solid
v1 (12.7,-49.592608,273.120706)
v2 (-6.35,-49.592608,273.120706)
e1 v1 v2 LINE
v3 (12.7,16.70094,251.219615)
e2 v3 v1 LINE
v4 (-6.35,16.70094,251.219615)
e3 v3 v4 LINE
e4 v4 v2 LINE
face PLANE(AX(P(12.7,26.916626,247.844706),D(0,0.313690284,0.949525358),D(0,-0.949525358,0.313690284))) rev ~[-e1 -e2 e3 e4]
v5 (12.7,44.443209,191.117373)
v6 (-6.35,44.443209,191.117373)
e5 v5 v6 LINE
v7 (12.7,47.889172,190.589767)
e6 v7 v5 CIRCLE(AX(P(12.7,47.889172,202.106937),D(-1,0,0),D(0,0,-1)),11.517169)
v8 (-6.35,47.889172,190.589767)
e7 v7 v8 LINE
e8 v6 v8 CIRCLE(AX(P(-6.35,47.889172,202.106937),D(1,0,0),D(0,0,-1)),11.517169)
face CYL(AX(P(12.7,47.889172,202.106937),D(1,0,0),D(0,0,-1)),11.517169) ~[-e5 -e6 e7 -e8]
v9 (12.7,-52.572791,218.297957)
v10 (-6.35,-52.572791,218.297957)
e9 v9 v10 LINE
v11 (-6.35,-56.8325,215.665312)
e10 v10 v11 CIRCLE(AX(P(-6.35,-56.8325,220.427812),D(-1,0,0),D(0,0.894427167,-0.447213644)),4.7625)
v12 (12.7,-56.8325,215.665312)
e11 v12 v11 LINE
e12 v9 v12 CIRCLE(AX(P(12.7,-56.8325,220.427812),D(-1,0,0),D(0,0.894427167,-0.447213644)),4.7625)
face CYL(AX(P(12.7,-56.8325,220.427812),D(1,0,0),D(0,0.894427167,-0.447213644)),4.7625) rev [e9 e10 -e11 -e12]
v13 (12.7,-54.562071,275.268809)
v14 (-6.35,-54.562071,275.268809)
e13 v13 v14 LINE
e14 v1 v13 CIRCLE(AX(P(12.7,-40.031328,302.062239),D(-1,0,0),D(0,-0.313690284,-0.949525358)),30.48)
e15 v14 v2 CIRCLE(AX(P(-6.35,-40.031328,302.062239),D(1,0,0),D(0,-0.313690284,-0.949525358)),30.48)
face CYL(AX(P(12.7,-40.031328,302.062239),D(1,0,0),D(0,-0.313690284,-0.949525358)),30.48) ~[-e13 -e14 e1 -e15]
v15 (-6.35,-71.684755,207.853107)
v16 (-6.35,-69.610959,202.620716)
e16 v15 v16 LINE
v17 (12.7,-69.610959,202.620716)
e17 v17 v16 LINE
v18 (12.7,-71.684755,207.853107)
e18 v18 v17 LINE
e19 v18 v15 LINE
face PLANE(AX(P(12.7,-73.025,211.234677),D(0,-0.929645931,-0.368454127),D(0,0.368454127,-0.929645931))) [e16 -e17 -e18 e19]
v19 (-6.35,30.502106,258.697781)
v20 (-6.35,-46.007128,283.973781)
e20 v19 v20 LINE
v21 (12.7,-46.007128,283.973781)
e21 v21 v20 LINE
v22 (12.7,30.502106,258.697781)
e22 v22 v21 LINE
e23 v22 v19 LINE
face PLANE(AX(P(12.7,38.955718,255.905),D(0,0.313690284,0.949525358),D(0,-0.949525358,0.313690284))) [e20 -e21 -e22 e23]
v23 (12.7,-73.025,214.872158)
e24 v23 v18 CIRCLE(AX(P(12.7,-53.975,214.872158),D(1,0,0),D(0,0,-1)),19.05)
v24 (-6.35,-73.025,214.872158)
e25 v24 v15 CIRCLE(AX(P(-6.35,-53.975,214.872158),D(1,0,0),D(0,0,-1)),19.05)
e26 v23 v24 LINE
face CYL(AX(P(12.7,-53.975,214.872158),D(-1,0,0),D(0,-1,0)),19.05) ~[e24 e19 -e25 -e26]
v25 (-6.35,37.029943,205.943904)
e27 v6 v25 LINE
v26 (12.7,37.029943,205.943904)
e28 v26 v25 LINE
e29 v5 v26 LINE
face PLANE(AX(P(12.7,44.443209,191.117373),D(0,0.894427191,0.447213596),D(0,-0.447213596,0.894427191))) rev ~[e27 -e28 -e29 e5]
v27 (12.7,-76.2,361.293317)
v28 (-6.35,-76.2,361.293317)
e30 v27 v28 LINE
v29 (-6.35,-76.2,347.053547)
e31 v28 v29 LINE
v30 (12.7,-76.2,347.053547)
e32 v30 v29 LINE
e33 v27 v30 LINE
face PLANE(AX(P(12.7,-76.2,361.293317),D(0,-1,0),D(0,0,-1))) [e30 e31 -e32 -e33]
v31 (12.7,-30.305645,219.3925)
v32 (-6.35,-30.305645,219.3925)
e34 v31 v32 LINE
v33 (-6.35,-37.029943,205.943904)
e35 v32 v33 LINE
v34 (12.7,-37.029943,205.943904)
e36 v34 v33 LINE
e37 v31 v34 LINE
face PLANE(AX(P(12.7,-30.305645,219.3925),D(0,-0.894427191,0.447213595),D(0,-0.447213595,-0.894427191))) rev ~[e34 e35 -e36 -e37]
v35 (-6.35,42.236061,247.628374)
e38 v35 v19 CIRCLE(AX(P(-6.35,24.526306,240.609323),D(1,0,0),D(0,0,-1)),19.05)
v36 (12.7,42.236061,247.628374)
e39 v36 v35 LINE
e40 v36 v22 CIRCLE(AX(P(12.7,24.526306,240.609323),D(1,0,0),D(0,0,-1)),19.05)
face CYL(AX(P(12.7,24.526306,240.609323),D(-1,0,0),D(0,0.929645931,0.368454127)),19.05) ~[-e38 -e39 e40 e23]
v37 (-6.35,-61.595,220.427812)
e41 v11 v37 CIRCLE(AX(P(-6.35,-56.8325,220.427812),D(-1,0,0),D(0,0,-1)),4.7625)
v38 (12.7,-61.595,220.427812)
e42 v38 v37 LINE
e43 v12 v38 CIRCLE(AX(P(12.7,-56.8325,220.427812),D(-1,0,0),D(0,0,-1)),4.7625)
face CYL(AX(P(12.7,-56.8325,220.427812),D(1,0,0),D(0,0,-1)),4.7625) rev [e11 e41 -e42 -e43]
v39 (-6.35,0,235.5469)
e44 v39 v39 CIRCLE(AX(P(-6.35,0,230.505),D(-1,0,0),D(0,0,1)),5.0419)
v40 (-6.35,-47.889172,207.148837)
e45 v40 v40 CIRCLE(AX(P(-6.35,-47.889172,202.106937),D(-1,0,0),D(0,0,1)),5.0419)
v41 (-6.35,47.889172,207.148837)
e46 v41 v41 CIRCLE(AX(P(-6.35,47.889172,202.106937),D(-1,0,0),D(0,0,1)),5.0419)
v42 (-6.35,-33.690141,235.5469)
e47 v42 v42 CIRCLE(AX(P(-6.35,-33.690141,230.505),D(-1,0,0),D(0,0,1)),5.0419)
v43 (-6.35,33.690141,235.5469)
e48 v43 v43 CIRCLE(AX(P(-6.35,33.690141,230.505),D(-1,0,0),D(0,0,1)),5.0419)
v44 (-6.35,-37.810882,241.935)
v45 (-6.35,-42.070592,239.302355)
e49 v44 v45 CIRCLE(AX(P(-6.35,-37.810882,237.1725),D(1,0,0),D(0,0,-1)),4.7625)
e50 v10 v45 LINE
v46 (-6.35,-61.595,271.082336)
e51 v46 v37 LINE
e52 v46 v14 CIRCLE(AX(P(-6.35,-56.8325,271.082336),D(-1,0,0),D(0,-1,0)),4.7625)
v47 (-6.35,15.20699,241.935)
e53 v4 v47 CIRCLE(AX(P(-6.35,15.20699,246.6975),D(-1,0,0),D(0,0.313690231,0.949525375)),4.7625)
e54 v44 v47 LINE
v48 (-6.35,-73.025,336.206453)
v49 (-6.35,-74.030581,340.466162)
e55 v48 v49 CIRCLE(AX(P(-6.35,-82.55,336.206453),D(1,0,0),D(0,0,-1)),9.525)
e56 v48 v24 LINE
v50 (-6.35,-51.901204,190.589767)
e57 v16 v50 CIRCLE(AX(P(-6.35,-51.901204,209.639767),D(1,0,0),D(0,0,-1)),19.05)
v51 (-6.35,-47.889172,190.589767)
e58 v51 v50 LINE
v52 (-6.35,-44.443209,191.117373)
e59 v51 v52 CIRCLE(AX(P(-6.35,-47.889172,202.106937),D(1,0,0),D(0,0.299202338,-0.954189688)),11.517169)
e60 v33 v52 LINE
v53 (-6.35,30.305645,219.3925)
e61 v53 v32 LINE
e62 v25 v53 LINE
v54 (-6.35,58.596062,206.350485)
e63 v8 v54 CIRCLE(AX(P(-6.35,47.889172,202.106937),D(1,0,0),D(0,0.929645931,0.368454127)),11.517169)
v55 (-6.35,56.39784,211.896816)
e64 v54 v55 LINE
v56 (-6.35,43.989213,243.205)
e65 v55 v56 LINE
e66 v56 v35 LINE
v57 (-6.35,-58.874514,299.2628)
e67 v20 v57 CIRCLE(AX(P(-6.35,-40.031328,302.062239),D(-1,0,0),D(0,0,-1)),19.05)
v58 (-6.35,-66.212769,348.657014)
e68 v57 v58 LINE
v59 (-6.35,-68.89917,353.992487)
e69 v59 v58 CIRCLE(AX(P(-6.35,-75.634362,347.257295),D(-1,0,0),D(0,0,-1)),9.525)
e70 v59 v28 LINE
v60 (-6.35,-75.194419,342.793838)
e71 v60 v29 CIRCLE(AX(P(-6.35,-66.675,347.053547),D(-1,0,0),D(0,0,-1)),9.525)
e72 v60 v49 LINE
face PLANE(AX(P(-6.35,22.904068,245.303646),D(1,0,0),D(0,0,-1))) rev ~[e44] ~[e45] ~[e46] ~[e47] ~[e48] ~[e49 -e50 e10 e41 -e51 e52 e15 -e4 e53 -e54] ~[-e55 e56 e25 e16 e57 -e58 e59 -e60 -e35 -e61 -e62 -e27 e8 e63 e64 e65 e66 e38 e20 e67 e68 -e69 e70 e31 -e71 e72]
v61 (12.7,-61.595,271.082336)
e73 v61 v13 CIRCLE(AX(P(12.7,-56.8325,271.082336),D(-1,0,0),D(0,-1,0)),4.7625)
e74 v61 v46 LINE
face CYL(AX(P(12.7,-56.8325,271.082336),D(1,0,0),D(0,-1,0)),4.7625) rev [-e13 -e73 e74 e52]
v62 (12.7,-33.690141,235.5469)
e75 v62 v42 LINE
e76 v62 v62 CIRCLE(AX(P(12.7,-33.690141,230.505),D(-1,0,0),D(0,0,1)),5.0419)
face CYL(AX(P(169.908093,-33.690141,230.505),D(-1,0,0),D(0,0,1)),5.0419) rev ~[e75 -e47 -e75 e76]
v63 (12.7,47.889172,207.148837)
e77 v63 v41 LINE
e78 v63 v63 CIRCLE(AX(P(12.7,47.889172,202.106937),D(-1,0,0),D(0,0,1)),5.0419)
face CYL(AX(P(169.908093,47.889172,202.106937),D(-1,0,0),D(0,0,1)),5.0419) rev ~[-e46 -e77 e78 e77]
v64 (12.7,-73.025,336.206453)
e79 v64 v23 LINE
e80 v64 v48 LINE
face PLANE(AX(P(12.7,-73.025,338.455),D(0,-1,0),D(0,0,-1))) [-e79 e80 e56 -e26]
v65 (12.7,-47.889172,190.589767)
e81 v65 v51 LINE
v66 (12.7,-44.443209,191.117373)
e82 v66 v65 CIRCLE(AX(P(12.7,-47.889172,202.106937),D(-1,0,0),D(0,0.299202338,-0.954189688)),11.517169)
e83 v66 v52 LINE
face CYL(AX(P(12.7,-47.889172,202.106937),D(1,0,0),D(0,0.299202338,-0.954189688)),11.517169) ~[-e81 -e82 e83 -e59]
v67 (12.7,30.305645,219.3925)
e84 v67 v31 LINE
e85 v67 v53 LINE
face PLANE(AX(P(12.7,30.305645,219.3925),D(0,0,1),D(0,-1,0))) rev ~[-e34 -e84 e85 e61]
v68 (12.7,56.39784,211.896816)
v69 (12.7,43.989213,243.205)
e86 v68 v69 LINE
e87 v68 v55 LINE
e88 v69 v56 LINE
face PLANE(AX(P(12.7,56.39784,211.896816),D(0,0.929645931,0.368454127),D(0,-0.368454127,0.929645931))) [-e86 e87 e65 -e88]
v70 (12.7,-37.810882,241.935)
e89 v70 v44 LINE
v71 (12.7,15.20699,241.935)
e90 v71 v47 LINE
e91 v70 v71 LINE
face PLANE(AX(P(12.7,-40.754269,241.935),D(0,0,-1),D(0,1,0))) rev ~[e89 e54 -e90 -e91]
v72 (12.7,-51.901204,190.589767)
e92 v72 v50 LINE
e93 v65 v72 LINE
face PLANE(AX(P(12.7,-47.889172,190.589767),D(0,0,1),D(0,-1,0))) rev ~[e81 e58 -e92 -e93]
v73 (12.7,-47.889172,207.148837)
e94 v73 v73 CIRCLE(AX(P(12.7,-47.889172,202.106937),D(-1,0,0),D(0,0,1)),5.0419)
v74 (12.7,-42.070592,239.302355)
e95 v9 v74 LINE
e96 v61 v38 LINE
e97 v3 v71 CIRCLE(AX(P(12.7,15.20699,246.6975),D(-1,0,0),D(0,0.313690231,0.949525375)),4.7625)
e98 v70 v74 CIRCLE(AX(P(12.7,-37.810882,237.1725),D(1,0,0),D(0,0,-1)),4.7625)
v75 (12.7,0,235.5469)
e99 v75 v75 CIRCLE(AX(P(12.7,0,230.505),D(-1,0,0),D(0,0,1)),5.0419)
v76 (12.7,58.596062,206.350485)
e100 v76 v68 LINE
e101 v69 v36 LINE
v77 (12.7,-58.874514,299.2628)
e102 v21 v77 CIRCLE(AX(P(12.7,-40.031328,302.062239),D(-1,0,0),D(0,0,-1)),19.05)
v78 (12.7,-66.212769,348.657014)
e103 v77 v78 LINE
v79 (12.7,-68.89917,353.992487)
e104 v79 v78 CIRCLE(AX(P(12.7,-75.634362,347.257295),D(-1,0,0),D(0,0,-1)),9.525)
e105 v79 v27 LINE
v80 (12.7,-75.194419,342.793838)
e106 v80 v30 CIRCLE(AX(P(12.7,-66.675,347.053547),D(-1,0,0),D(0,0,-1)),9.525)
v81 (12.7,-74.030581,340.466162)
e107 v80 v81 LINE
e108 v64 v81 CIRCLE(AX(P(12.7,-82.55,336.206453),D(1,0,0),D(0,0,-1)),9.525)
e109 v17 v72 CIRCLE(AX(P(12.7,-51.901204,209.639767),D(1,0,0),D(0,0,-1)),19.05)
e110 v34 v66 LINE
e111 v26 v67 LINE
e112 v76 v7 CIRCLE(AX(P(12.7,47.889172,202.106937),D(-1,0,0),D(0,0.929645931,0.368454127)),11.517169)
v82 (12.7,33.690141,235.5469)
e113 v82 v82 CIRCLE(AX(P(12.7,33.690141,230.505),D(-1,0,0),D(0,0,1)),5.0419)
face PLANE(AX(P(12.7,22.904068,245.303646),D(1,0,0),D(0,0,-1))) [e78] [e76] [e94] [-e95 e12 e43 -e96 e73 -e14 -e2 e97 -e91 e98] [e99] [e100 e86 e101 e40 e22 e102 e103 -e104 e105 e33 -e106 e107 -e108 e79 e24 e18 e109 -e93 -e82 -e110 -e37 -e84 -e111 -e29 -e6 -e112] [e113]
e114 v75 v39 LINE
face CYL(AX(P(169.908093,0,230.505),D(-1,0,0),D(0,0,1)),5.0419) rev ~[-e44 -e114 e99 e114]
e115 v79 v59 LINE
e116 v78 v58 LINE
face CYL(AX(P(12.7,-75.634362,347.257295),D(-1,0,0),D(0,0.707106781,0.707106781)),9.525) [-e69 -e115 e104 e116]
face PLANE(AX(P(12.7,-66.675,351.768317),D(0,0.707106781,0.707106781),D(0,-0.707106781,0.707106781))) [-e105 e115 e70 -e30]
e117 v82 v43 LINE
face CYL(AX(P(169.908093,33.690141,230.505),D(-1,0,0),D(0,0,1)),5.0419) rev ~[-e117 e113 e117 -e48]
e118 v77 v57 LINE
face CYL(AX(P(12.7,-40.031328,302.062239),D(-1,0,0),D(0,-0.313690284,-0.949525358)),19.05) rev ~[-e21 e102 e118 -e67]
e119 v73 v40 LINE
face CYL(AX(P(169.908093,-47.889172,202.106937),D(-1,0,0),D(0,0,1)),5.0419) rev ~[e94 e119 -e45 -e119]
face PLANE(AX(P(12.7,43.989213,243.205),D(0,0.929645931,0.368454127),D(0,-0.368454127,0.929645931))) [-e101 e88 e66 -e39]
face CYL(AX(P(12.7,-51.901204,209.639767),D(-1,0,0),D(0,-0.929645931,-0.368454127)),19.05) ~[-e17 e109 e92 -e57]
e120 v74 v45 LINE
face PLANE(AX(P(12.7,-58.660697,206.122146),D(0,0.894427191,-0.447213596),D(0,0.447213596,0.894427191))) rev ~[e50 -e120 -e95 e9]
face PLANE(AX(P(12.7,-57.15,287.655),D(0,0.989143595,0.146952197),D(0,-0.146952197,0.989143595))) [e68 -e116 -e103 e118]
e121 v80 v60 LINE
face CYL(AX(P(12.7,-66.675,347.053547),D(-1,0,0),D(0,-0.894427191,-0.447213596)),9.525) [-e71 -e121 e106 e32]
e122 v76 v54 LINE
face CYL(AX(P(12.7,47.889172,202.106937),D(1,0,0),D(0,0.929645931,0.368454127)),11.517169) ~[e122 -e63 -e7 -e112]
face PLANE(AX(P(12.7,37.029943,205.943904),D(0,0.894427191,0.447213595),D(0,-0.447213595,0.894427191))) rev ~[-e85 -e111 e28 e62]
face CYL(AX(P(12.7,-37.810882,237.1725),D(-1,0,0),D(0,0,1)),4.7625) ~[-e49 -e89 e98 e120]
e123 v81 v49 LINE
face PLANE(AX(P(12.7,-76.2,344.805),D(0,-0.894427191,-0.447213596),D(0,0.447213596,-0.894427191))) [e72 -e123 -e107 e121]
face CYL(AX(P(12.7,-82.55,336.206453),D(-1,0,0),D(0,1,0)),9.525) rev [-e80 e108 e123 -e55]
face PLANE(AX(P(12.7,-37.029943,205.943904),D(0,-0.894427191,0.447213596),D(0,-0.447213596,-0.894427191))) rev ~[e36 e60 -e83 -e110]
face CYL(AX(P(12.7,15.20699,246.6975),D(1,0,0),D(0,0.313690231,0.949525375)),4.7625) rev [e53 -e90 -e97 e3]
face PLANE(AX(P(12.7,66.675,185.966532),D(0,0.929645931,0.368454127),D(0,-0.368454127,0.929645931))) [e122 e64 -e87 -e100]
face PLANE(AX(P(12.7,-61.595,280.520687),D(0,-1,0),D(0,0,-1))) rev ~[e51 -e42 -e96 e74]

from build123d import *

# Parameters (mm, degrees)
SKETCH1_R               = 7.9375
SKETCH1_R_2             = 11.1125
BOSS_EXTRUDE1_DEPTH     = 12.7
F_8_CLEARANCE_HOLE1_D   = 4.4958
SKETCH5_R               = 18.415
CUT_EXTRUDE1_DEPTH      = 13.7
SKETCH7_R               = 9.525
CUT_EXTRUDE2_DEPTH      = 13.7
CUT_EXTRUDE3_DEPTH      = 13.7
BOSS_EXTRUDE2_DEPTH     = 12.7
CUT_EXTRUDE4_DEPTH      = 13.7
SKETCH11_W              = 12.7
SKETCH11_H              = 178.054
CUT_EXTRUDE5_DEPTH      = 3.175
BOSS_EXTRUDE3_DEPTH     = 19.05
CUT_EXTRUDE6_DEPTH      = 20.05
F_3_8_CLEARANCE_HOLE1_D = 10.0838
CUT_EXTRUDE7_DEPTH      = 20.05
BOSS_EXTRUDE4_DEPTH     = 19.05
FILLET1_R               = 19.05
FILLET2_R               = 9.525
CUT_EXTRUDE8_DEPTH      = 20.05
BOSS_EXTRUDE5_DEPTH     = 19.05
FILLET3_R               = 4.7625


with BuildPart() as part:
    # Sketch1 → Boss-Extrude1 (new body)
    with BuildSketch(Plane(origin=(0, 0, 0), x_dir=(0, 0, -1), z_dir=(1, 0, 0))):
        with BuildLine():
            Line((93.345, 0), (55.245, 50.8))
            Line((55.245, 50.8), (-160.655, 50.8))
            ThreePointArc((-160.655, 50.8), (-211.455, 0), (-160.655, -50.8))
            Line((-160.655, -50.8), (55.245, -50.8))
            Line((55.245, -50.8), (93.345, 0))
        make_face()
        with Locations((-88.9, 0)):
            Circle(SKETCH1_R, mode=Mode.SUBTRACT)
        with Locations((-38.1, 0)):
            Circle(SKETCH1_R, mode=Mode.SUBTRACT)
        with Locations((-160.655, 0)):
            Circle(SKETCH1_R_2, mode=Mode.SUBTRACT)
        Circle(SKETCH1_R, mode=Mode.SUBTRACT)
    extrude(amount=BOSS_EXTRUDE1_DEPTH)

    # #8 Clearance Hole1 (through all)
    with Locations(Plane.ZY):
        with Locations((-17.691104559, 17.691104559), (17.691104559, 17.691104559), (17.691104559, -17.691104559), (-17.691104559, -17.691104559)):
            Hole(F_8_CLEARANCE_HOLE1_D / 2)

    # Sketch5 → Cut-Extrude1 (cut, through all)
    with BuildSketch(Plane.ZY):
        Circle(SKETCH5_R)
    extrude(amount=-CUT_EXTRUDE1_DEPTH, mode=Mode.SUBTRACT)

    # Sketch7 → Cut-Extrude2 (cut, through all)
    with BuildSketch(Plane.ZY):
        with Locations((-55.245, 0)):
            Circle(SKETCH7_R)
    extrude(amount=-CUT_EXTRUDE2_DEPTH, mode=Mode.SUBTRACT)

    # Sketch8 → Cut-Extrude3 (cut, through all)
    with BuildSketch(Plane(origin=(12.7, 0, 0), x_dir=(0, 0, -1), z_dir=(1, 0, 0))):
        Polygon((-160.655, 50.8), (-211.455, 25.4), (-211.455, -25.4), (-160.655, -50.8), (-233.239745749, -50.8), (-233.239745749, 50.8), align=None)
    extrude(amount=-CUT_EXTRUDE3_DEPTH, mode=Mode.SUBTRACT)

    # Sketch9 → Boss-Extrude2 (add)
    with BuildSketch(Plane(origin=(12.7, 0, 0), x_dir=(0, 0, -1), z_dir=(1, 0, 0))):
        Polygon((-160.655, 50.8), (-211.455, 25.4), (-211.455, 0), (-211.455, -25.4), (-160.655, -50.8), (-160.655, -40.64), (-202.749323348, 0), (-160.655, 40.64), align=None)
    extrude(amount=-BOSS_EXTRUDE2_DEPTH)

    # Sketch10 → Cut-Extrude4 (cut, through all)
    with BuildSketch(Plane.ZY):
        Polygon((-79.0575, -19.05), (-79.0575, 19.05), (-93.345, 0), align=None)
    extrude(amount=-CUT_EXTRUDE4_DEPTH, mode=Mode.SUBTRACT)

    # Sketch11 → Cut-Extrude5 (cut)
    with BuildSketch(Plane(origin=(0, 50.8, 0), x_dir=(1, 0, 0), z_dir=(0, 1, 0))):
        with Locations((6.35, -52.705)):
            Rectangle(SKETCH11_W, SKETCH11_H)
    cut_extrude5 = extrude(amount=-CUT_EXTRUDE5_DEPTH, mode=Mode.SUBTRACT)

    # Mirror1: Cut-Extrude5 across plane
    add(cut_extrude5.mirror(Plane.ZX), mode=Mode.SUBTRACT)

    # Sketch13 → Cut-Extrude6 (cut, through all)
    with BuildSketch(Plane(origin=(12.7, 0, 0), x_dir=(0, 0, -1), z_dir=(1, 0, 0))):
        Polygon((-161.254612663, -53.34), (-139.192, -53.34), (-139.192, -50.165), (33.782, -50.165), (33.782, -53.34), (56.515, -53.34), (81.5975, -19.896666667), (81.5975, 19.896666667), (56.515, 53.34), (33.782, 53.34), (33.782, 50.165), (-139.192, 50.165), (-139.192, 53.34), (-161.254612663, 53.34), (-213.995, 26.969806331), (-213.995, -26.969806331), align=None)
    extrude(amount=-CUT_EXTRUDE6_DEPTH, mode=Mode.SUBTRACT)


with BuildPart() as body_2:
    # Sketch12 → Boss-Extrude3 (new body)
    with BuildSketch(Plane(origin=(12.7, 0, 0), x_dir=(0, 0, -1), z_dir=(1, 0, 0))):
        with BuildLine():
            ThreePointArc((-211.89681554, -56.397839854), (-236.855, 0), (-211.89681554, 56.397839854))
            Line((-211.89681554, 56.397839854), (-243.205, 43.989212666))
            Line((-243.205, 43.989212666), (-243.205, -43.989212666))
            Line((-243.205, -43.989212666), (-211.89681554, -56.397839854))
        make_face()
        with BuildLine():
            Line((-217.805, 29.324515829), (-162.154031657, 57.15))
            Line((-162.154031657, 57.15), (-166.916531657, 66.675))
            Line((-166.916531657, 66.675), (-185.966531657, 66.675))
            Line((-185.966531657, 66.675), (-211.89681554, 56.397839854))
            ThreePointArc((-211.89681554, 56.397839854), (-236.855, 0), (-211.89681554, -56.397839854))
            Line((-211.89681554, -56.397839854), (-185.966531657, -66.675))
            Line((-185.966531657, -66.675), (-166.916531657, -66.675))
            Line((-166.916531657, -66.675), (-162.154031657, -57.15))
            Line((-162.154031657, -57.15), (-217.805, -29.324515829))
            Line((-217.805, -29.324515829), (-217.805, 29.324515829))
        make_face()
    extrude(amount=-BOSS_EXTRUDE3_DEPTH)

    # 3/8 Clearance Hole1 (through all)
    with Locations(Plane(origin=(12.7, 0, 0), x_dir=(0, 0, -1), z_dir=(1, 0, 0))):
        with Locations((-230.505, 0), (-230.505, 33.690140829), (-202.106936686, 47.889172486), (-230.505, -33.690140829), (-202.106936686, -47.889172486)):
            Hole(F_3_8_CLEARANCE_HOLE1_D / 2)

    # Sketch16 → Cut-Extrude7 (cut, through all)
    with BuildSketch(Plane(origin=(12.7, 0, 0), x_dir=(0, 0, -1), z_dir=(1, 0, 0))):
        with BuildLine():
            ThreePointArc((-190.589767426, 47.889172486), (-190.722432786, 46.146112328), (-191.117372542, 44.443208515))
            Line((-191.117372542, 44.443208515), (-162.86398324, 58.569903166))
            Line((-162.86398324, 58.569903166), (-166.916531657, 66.675))
            Line((-166.916531657, 66.675), (-185.966531657, 66.675))
            Line((-185.966531657, 66.675), (-206.35048523, 58.596062021))
            ThreePointArc((-206.35048523, 58.596062021), (-195.635015761, 57.415946719), (-190.589767426, 47.889172486))
        make_face()
        with BuildLine():
            Line((-162.86398324, 58.569903166), (-191.117372542, 44.443208515))
            ThreePointArc((-191.117372542, 44.443208515), (-191.551739911, 43.281243579), (-192.108559765, 42.172735946))
            Line((-192.108559765, 42.172735946), (-162.154031657, 57.15))
            Line((-162.154031657, 57.15), (-162.86398324, 58.569903166))
        make_face()
        with BuildLine():
            Line((-191.117372542, 44.443208515), (-205.943903995, 37.029942788))
            ThreePointArc((-205.943903995, 37.029942788), (-204.753711625, 36.680257722), (-203.532813606, 36.460609025))
            Line((-203.532813606, 36.460609025), (-192.108559765, 42.172735946))
            ThreePointArc((-192.108559765, 42.172735946), (-191.551739911, 43.281243579), (-191.117372542, 44.443208515))
        make_face()
        with BuildLine():
            Line((-219.3925, 30.305644786), (-219.3925, -30.305644786))
            Line((-219.3925, -30.305644786), (-205.943903995, -37.029942788))
            ThreePointArc((-205.943903995, -37.029942788), (-204.753711625, -36.680257722), (-203.532813606, -36.460609025))
            Line((-203.532813606, -36.460609025), (-217.805, -29.324515829))
            Line((-217.805, -29.324515829), (-217.805, 29.324515829))
            Line((-217.805, 29.324515829), (-203.532813606, 36.460609025))
            ThreePointArc((-203.532813606, 36.460609025), (-204.753711625, 36.680257722), (-205.943903995, 37.029942788))
            Line((-205.943903995, 37.029942788), (-219.3925, 30.305644786))
        make_face()
        with BuildLine():
            ThreePointArc((-203.532813606, -36.460609025), (-204.753711625, -36.680257722), (-205.943903995, -37.029942788))
            Line((-205.943903995, -37.029942788), (-191.117372542, -44.443208515))
            ThreePointArc((-191.117372542, -44.443208515), (-191.551739911, -43.281243579), (-192.108559765, -42.172735946))
            Line((-192.108559765, -42.172735946), (-203.532813606, -36.460609025))
        make_face()
        with BuildLine():
            ThreePointArc((-192.108559765, -42.172735946), (-191.551739911, -43.281243579), (-191.117372542, -44.443208515))
            Line((-191.117372542, -44.443208515), (-162.86398324, -58.569903166))
            Line((-162.86398324, -58.569903166), (-162.154031657, -57.15))
            Line((-162.154031657, -57.15), (-192.108559765, -42.172735946))
        make_face()
        with BuildLine():
            Line((-162.86398324, -58.569903166), (-191.117372542, -44.443208515))
            ThreePointArc((-191.117372542, -44.443208515), (-190.722432786, -46.146112328), (-190.589767426, -47.889172486))
            Line((-190.589767426, -47.889172486), (-190.589767426, -64.842635395))
            Line((-190.589767426, -64.842635395), (-185.966531657, -66.675))
            Line((-185.966531657, -66.675), (-166.916531657, -66.675))
            Line((-166.916531657, -66.675), (-162.86398324, -58.569903166))
        make_face()
    extrude(amount=-CUT_EXTRUDE7_DEPTH, mode=Mode.SUBTRACT)

    # Sketch17 → Boss-Extrude4 (add)
    with BuildSketch(Plane(origin=(12.7, 0, 0), x_dir=(0, 0, -1), z_dir=(1, 0, 0))):
        Polygon((-338.455, -73.025), (-211.234676528, -73.025), (-190.589767426, -64.842635395), (-243.205, -43.989212666), (-243.205, 43.989212666), (-255.905, 38.955718453), (-287.655, -57.15), (-351.768316876, -66.675), (-361.293316876, -76.2), (-344.805, -76.2), align=None)
    extrude(amount=-BOSS_EXTRUDE4_DEPTH)

    # Fillet1
    fillet1_edges = [body_2.edges().sort_by_distance(p)[0] for p in [
        (3.175, -73.025, 211.234676528),
        (3.175, -57.15, 287.655),
        (3.175, 38.955718453, 255.905),
        (3.175, -64.842635395, 190.589767426),
    ]]
    fillet(fillet1_edges, radius=FILLET1_R)

    # Fillet2
    fillet2_edges = [body_2.edges().sort_by_distance(p)[0] for p in [
        (3.175, -73.025, 338.455),
        (3.175, -76.2, 344.805),
        (3.175, -66.675, 351.768316876),
    ]]
    fillet(fillet2_edges, radius=FILLET2_R)

    # Sketch18 → Cut-Extrude8 (cut, through all)
    with BuildSketch(Plane(origin=(12.7, 0, 0), x_dir=(0, 0, -1), z_dir=(1, 0, 0))):
        with BuildLine():
            ThreePointArc((-273.120706312, -49.592608078), (-276.117108341, -56.027596012), (-280.520687302, -61.595))
            Line((-280.520687302, -61.595), (-214.872157895, -61.595))
            ThreePointArc((-214.872157895, -61.595), (-213.442985613, -61.459775654), (-212.064537448, -61.058901992))
            Line((-212.064537448, -61.058901992), (-206.832146979, -58.985106153))
            ThreePointArc((-206.832146979, -58.985106153), (-206.472989442, -58.831999008), (-206.122145618, -58.660696511))
            Line((-206.122145618, -58.660696511), (-207.218588082, -58.112475279))
            Line((-207.218588082, -58.112475279), (-241.935, -40.75426932))
            Line((-241.935, -40.75426932), (-241.935, 32.197558556))
            Line((-241.935, 32.197558556), (-243.416943097, 31.610208005))
            ThreePointArc((-243.416943097, 31.610208005), (-246.152147631, 29.755215195), (-247.844705879, 26.916625978))
            Line((-247.844705879, 26.916625978), (-273.120706312, -49.592608078))
        make_face()
    extrude(amount=-CUT_EXTRUDE8_DEPTH, mode=Mode.SUBTRACT)

    # Sketch19 → Boss-Extrude5 (add)
    with BuildSketch(Plane(origin=(12.7, 0, 0), x_dir=(0, 0, -1), z_dir=(1, 0, 0))):
        with BuildLine():
            ThreePointArc((-243.416943097, 31.610208005), (-246.152147631, 29.755215195), (-247.844705879, 26.916625978))
            Line((-247.844705879, 26.916625978), (-251.219614601, 16.700940075))
            ThreePointArc((-251.219614601, 16.700940075), (-245.940917069, 19.909009969), (-241.935, 15.206990348))
            Line((-241.935, 15.206990348), (-241.935, 32.197558556))
            Line((-241.935, 32.197558556), (-243.416943097, 31.610208005))
        make_face()
        with BuildLine():
            ThreePointArc((-271.08233553, -61.595), (-275.17466524, -59.268530337), (-275.268808735, -54.562070888))
            ThreePointArc((-275.268808735, -54.562070888), (-277.640258261, -58.268577072), (-280.520687302, -61.595))
            Line((-280.520687302, -61.595), (-271.08233553, -61.595))
        make_face()
        with BuildLine():
            Line((-206.122145618, -58.660696511), (-218.297957405, -52.572790618))
            ThreePointArc((-218.297957405, -52.572790618), (-216.376587841, -54.328705688), (-215.665312383, -56.8325))
            ThreePointArc((-215.665312383, -56.8325), (-217.060216337, -60.200096045), (-220.427812383, -61.595))
            Line((-220.427812383, -61.595), (-214.872157895, -61.595))
            ThreePointArc((-214.872157895, -61.595), (-213.442985613, -61.459775654), (-212.064537448, -61.058901992))
            Line((-212.064537448, -61.058901992), (-206.832146979, -58.985106153))
            ThreePointArc((-206.832146979, -58.985106153), (-206.472989442, -58.831999008), (-206.122145618, -58.660696511))
        make_face()
    extrude(amount=-BOSS_EXTRUDE5_DEPTH)

    # Fillet3
    fillet3_edges = [body_2.edges().sort_by_distance(p)[0] for p in [
        (3.175, -40.75426932, 241.935),
    ]]
    fillet(fillet3_edges, radius=FILLET3_R)


solid = body_2.part
